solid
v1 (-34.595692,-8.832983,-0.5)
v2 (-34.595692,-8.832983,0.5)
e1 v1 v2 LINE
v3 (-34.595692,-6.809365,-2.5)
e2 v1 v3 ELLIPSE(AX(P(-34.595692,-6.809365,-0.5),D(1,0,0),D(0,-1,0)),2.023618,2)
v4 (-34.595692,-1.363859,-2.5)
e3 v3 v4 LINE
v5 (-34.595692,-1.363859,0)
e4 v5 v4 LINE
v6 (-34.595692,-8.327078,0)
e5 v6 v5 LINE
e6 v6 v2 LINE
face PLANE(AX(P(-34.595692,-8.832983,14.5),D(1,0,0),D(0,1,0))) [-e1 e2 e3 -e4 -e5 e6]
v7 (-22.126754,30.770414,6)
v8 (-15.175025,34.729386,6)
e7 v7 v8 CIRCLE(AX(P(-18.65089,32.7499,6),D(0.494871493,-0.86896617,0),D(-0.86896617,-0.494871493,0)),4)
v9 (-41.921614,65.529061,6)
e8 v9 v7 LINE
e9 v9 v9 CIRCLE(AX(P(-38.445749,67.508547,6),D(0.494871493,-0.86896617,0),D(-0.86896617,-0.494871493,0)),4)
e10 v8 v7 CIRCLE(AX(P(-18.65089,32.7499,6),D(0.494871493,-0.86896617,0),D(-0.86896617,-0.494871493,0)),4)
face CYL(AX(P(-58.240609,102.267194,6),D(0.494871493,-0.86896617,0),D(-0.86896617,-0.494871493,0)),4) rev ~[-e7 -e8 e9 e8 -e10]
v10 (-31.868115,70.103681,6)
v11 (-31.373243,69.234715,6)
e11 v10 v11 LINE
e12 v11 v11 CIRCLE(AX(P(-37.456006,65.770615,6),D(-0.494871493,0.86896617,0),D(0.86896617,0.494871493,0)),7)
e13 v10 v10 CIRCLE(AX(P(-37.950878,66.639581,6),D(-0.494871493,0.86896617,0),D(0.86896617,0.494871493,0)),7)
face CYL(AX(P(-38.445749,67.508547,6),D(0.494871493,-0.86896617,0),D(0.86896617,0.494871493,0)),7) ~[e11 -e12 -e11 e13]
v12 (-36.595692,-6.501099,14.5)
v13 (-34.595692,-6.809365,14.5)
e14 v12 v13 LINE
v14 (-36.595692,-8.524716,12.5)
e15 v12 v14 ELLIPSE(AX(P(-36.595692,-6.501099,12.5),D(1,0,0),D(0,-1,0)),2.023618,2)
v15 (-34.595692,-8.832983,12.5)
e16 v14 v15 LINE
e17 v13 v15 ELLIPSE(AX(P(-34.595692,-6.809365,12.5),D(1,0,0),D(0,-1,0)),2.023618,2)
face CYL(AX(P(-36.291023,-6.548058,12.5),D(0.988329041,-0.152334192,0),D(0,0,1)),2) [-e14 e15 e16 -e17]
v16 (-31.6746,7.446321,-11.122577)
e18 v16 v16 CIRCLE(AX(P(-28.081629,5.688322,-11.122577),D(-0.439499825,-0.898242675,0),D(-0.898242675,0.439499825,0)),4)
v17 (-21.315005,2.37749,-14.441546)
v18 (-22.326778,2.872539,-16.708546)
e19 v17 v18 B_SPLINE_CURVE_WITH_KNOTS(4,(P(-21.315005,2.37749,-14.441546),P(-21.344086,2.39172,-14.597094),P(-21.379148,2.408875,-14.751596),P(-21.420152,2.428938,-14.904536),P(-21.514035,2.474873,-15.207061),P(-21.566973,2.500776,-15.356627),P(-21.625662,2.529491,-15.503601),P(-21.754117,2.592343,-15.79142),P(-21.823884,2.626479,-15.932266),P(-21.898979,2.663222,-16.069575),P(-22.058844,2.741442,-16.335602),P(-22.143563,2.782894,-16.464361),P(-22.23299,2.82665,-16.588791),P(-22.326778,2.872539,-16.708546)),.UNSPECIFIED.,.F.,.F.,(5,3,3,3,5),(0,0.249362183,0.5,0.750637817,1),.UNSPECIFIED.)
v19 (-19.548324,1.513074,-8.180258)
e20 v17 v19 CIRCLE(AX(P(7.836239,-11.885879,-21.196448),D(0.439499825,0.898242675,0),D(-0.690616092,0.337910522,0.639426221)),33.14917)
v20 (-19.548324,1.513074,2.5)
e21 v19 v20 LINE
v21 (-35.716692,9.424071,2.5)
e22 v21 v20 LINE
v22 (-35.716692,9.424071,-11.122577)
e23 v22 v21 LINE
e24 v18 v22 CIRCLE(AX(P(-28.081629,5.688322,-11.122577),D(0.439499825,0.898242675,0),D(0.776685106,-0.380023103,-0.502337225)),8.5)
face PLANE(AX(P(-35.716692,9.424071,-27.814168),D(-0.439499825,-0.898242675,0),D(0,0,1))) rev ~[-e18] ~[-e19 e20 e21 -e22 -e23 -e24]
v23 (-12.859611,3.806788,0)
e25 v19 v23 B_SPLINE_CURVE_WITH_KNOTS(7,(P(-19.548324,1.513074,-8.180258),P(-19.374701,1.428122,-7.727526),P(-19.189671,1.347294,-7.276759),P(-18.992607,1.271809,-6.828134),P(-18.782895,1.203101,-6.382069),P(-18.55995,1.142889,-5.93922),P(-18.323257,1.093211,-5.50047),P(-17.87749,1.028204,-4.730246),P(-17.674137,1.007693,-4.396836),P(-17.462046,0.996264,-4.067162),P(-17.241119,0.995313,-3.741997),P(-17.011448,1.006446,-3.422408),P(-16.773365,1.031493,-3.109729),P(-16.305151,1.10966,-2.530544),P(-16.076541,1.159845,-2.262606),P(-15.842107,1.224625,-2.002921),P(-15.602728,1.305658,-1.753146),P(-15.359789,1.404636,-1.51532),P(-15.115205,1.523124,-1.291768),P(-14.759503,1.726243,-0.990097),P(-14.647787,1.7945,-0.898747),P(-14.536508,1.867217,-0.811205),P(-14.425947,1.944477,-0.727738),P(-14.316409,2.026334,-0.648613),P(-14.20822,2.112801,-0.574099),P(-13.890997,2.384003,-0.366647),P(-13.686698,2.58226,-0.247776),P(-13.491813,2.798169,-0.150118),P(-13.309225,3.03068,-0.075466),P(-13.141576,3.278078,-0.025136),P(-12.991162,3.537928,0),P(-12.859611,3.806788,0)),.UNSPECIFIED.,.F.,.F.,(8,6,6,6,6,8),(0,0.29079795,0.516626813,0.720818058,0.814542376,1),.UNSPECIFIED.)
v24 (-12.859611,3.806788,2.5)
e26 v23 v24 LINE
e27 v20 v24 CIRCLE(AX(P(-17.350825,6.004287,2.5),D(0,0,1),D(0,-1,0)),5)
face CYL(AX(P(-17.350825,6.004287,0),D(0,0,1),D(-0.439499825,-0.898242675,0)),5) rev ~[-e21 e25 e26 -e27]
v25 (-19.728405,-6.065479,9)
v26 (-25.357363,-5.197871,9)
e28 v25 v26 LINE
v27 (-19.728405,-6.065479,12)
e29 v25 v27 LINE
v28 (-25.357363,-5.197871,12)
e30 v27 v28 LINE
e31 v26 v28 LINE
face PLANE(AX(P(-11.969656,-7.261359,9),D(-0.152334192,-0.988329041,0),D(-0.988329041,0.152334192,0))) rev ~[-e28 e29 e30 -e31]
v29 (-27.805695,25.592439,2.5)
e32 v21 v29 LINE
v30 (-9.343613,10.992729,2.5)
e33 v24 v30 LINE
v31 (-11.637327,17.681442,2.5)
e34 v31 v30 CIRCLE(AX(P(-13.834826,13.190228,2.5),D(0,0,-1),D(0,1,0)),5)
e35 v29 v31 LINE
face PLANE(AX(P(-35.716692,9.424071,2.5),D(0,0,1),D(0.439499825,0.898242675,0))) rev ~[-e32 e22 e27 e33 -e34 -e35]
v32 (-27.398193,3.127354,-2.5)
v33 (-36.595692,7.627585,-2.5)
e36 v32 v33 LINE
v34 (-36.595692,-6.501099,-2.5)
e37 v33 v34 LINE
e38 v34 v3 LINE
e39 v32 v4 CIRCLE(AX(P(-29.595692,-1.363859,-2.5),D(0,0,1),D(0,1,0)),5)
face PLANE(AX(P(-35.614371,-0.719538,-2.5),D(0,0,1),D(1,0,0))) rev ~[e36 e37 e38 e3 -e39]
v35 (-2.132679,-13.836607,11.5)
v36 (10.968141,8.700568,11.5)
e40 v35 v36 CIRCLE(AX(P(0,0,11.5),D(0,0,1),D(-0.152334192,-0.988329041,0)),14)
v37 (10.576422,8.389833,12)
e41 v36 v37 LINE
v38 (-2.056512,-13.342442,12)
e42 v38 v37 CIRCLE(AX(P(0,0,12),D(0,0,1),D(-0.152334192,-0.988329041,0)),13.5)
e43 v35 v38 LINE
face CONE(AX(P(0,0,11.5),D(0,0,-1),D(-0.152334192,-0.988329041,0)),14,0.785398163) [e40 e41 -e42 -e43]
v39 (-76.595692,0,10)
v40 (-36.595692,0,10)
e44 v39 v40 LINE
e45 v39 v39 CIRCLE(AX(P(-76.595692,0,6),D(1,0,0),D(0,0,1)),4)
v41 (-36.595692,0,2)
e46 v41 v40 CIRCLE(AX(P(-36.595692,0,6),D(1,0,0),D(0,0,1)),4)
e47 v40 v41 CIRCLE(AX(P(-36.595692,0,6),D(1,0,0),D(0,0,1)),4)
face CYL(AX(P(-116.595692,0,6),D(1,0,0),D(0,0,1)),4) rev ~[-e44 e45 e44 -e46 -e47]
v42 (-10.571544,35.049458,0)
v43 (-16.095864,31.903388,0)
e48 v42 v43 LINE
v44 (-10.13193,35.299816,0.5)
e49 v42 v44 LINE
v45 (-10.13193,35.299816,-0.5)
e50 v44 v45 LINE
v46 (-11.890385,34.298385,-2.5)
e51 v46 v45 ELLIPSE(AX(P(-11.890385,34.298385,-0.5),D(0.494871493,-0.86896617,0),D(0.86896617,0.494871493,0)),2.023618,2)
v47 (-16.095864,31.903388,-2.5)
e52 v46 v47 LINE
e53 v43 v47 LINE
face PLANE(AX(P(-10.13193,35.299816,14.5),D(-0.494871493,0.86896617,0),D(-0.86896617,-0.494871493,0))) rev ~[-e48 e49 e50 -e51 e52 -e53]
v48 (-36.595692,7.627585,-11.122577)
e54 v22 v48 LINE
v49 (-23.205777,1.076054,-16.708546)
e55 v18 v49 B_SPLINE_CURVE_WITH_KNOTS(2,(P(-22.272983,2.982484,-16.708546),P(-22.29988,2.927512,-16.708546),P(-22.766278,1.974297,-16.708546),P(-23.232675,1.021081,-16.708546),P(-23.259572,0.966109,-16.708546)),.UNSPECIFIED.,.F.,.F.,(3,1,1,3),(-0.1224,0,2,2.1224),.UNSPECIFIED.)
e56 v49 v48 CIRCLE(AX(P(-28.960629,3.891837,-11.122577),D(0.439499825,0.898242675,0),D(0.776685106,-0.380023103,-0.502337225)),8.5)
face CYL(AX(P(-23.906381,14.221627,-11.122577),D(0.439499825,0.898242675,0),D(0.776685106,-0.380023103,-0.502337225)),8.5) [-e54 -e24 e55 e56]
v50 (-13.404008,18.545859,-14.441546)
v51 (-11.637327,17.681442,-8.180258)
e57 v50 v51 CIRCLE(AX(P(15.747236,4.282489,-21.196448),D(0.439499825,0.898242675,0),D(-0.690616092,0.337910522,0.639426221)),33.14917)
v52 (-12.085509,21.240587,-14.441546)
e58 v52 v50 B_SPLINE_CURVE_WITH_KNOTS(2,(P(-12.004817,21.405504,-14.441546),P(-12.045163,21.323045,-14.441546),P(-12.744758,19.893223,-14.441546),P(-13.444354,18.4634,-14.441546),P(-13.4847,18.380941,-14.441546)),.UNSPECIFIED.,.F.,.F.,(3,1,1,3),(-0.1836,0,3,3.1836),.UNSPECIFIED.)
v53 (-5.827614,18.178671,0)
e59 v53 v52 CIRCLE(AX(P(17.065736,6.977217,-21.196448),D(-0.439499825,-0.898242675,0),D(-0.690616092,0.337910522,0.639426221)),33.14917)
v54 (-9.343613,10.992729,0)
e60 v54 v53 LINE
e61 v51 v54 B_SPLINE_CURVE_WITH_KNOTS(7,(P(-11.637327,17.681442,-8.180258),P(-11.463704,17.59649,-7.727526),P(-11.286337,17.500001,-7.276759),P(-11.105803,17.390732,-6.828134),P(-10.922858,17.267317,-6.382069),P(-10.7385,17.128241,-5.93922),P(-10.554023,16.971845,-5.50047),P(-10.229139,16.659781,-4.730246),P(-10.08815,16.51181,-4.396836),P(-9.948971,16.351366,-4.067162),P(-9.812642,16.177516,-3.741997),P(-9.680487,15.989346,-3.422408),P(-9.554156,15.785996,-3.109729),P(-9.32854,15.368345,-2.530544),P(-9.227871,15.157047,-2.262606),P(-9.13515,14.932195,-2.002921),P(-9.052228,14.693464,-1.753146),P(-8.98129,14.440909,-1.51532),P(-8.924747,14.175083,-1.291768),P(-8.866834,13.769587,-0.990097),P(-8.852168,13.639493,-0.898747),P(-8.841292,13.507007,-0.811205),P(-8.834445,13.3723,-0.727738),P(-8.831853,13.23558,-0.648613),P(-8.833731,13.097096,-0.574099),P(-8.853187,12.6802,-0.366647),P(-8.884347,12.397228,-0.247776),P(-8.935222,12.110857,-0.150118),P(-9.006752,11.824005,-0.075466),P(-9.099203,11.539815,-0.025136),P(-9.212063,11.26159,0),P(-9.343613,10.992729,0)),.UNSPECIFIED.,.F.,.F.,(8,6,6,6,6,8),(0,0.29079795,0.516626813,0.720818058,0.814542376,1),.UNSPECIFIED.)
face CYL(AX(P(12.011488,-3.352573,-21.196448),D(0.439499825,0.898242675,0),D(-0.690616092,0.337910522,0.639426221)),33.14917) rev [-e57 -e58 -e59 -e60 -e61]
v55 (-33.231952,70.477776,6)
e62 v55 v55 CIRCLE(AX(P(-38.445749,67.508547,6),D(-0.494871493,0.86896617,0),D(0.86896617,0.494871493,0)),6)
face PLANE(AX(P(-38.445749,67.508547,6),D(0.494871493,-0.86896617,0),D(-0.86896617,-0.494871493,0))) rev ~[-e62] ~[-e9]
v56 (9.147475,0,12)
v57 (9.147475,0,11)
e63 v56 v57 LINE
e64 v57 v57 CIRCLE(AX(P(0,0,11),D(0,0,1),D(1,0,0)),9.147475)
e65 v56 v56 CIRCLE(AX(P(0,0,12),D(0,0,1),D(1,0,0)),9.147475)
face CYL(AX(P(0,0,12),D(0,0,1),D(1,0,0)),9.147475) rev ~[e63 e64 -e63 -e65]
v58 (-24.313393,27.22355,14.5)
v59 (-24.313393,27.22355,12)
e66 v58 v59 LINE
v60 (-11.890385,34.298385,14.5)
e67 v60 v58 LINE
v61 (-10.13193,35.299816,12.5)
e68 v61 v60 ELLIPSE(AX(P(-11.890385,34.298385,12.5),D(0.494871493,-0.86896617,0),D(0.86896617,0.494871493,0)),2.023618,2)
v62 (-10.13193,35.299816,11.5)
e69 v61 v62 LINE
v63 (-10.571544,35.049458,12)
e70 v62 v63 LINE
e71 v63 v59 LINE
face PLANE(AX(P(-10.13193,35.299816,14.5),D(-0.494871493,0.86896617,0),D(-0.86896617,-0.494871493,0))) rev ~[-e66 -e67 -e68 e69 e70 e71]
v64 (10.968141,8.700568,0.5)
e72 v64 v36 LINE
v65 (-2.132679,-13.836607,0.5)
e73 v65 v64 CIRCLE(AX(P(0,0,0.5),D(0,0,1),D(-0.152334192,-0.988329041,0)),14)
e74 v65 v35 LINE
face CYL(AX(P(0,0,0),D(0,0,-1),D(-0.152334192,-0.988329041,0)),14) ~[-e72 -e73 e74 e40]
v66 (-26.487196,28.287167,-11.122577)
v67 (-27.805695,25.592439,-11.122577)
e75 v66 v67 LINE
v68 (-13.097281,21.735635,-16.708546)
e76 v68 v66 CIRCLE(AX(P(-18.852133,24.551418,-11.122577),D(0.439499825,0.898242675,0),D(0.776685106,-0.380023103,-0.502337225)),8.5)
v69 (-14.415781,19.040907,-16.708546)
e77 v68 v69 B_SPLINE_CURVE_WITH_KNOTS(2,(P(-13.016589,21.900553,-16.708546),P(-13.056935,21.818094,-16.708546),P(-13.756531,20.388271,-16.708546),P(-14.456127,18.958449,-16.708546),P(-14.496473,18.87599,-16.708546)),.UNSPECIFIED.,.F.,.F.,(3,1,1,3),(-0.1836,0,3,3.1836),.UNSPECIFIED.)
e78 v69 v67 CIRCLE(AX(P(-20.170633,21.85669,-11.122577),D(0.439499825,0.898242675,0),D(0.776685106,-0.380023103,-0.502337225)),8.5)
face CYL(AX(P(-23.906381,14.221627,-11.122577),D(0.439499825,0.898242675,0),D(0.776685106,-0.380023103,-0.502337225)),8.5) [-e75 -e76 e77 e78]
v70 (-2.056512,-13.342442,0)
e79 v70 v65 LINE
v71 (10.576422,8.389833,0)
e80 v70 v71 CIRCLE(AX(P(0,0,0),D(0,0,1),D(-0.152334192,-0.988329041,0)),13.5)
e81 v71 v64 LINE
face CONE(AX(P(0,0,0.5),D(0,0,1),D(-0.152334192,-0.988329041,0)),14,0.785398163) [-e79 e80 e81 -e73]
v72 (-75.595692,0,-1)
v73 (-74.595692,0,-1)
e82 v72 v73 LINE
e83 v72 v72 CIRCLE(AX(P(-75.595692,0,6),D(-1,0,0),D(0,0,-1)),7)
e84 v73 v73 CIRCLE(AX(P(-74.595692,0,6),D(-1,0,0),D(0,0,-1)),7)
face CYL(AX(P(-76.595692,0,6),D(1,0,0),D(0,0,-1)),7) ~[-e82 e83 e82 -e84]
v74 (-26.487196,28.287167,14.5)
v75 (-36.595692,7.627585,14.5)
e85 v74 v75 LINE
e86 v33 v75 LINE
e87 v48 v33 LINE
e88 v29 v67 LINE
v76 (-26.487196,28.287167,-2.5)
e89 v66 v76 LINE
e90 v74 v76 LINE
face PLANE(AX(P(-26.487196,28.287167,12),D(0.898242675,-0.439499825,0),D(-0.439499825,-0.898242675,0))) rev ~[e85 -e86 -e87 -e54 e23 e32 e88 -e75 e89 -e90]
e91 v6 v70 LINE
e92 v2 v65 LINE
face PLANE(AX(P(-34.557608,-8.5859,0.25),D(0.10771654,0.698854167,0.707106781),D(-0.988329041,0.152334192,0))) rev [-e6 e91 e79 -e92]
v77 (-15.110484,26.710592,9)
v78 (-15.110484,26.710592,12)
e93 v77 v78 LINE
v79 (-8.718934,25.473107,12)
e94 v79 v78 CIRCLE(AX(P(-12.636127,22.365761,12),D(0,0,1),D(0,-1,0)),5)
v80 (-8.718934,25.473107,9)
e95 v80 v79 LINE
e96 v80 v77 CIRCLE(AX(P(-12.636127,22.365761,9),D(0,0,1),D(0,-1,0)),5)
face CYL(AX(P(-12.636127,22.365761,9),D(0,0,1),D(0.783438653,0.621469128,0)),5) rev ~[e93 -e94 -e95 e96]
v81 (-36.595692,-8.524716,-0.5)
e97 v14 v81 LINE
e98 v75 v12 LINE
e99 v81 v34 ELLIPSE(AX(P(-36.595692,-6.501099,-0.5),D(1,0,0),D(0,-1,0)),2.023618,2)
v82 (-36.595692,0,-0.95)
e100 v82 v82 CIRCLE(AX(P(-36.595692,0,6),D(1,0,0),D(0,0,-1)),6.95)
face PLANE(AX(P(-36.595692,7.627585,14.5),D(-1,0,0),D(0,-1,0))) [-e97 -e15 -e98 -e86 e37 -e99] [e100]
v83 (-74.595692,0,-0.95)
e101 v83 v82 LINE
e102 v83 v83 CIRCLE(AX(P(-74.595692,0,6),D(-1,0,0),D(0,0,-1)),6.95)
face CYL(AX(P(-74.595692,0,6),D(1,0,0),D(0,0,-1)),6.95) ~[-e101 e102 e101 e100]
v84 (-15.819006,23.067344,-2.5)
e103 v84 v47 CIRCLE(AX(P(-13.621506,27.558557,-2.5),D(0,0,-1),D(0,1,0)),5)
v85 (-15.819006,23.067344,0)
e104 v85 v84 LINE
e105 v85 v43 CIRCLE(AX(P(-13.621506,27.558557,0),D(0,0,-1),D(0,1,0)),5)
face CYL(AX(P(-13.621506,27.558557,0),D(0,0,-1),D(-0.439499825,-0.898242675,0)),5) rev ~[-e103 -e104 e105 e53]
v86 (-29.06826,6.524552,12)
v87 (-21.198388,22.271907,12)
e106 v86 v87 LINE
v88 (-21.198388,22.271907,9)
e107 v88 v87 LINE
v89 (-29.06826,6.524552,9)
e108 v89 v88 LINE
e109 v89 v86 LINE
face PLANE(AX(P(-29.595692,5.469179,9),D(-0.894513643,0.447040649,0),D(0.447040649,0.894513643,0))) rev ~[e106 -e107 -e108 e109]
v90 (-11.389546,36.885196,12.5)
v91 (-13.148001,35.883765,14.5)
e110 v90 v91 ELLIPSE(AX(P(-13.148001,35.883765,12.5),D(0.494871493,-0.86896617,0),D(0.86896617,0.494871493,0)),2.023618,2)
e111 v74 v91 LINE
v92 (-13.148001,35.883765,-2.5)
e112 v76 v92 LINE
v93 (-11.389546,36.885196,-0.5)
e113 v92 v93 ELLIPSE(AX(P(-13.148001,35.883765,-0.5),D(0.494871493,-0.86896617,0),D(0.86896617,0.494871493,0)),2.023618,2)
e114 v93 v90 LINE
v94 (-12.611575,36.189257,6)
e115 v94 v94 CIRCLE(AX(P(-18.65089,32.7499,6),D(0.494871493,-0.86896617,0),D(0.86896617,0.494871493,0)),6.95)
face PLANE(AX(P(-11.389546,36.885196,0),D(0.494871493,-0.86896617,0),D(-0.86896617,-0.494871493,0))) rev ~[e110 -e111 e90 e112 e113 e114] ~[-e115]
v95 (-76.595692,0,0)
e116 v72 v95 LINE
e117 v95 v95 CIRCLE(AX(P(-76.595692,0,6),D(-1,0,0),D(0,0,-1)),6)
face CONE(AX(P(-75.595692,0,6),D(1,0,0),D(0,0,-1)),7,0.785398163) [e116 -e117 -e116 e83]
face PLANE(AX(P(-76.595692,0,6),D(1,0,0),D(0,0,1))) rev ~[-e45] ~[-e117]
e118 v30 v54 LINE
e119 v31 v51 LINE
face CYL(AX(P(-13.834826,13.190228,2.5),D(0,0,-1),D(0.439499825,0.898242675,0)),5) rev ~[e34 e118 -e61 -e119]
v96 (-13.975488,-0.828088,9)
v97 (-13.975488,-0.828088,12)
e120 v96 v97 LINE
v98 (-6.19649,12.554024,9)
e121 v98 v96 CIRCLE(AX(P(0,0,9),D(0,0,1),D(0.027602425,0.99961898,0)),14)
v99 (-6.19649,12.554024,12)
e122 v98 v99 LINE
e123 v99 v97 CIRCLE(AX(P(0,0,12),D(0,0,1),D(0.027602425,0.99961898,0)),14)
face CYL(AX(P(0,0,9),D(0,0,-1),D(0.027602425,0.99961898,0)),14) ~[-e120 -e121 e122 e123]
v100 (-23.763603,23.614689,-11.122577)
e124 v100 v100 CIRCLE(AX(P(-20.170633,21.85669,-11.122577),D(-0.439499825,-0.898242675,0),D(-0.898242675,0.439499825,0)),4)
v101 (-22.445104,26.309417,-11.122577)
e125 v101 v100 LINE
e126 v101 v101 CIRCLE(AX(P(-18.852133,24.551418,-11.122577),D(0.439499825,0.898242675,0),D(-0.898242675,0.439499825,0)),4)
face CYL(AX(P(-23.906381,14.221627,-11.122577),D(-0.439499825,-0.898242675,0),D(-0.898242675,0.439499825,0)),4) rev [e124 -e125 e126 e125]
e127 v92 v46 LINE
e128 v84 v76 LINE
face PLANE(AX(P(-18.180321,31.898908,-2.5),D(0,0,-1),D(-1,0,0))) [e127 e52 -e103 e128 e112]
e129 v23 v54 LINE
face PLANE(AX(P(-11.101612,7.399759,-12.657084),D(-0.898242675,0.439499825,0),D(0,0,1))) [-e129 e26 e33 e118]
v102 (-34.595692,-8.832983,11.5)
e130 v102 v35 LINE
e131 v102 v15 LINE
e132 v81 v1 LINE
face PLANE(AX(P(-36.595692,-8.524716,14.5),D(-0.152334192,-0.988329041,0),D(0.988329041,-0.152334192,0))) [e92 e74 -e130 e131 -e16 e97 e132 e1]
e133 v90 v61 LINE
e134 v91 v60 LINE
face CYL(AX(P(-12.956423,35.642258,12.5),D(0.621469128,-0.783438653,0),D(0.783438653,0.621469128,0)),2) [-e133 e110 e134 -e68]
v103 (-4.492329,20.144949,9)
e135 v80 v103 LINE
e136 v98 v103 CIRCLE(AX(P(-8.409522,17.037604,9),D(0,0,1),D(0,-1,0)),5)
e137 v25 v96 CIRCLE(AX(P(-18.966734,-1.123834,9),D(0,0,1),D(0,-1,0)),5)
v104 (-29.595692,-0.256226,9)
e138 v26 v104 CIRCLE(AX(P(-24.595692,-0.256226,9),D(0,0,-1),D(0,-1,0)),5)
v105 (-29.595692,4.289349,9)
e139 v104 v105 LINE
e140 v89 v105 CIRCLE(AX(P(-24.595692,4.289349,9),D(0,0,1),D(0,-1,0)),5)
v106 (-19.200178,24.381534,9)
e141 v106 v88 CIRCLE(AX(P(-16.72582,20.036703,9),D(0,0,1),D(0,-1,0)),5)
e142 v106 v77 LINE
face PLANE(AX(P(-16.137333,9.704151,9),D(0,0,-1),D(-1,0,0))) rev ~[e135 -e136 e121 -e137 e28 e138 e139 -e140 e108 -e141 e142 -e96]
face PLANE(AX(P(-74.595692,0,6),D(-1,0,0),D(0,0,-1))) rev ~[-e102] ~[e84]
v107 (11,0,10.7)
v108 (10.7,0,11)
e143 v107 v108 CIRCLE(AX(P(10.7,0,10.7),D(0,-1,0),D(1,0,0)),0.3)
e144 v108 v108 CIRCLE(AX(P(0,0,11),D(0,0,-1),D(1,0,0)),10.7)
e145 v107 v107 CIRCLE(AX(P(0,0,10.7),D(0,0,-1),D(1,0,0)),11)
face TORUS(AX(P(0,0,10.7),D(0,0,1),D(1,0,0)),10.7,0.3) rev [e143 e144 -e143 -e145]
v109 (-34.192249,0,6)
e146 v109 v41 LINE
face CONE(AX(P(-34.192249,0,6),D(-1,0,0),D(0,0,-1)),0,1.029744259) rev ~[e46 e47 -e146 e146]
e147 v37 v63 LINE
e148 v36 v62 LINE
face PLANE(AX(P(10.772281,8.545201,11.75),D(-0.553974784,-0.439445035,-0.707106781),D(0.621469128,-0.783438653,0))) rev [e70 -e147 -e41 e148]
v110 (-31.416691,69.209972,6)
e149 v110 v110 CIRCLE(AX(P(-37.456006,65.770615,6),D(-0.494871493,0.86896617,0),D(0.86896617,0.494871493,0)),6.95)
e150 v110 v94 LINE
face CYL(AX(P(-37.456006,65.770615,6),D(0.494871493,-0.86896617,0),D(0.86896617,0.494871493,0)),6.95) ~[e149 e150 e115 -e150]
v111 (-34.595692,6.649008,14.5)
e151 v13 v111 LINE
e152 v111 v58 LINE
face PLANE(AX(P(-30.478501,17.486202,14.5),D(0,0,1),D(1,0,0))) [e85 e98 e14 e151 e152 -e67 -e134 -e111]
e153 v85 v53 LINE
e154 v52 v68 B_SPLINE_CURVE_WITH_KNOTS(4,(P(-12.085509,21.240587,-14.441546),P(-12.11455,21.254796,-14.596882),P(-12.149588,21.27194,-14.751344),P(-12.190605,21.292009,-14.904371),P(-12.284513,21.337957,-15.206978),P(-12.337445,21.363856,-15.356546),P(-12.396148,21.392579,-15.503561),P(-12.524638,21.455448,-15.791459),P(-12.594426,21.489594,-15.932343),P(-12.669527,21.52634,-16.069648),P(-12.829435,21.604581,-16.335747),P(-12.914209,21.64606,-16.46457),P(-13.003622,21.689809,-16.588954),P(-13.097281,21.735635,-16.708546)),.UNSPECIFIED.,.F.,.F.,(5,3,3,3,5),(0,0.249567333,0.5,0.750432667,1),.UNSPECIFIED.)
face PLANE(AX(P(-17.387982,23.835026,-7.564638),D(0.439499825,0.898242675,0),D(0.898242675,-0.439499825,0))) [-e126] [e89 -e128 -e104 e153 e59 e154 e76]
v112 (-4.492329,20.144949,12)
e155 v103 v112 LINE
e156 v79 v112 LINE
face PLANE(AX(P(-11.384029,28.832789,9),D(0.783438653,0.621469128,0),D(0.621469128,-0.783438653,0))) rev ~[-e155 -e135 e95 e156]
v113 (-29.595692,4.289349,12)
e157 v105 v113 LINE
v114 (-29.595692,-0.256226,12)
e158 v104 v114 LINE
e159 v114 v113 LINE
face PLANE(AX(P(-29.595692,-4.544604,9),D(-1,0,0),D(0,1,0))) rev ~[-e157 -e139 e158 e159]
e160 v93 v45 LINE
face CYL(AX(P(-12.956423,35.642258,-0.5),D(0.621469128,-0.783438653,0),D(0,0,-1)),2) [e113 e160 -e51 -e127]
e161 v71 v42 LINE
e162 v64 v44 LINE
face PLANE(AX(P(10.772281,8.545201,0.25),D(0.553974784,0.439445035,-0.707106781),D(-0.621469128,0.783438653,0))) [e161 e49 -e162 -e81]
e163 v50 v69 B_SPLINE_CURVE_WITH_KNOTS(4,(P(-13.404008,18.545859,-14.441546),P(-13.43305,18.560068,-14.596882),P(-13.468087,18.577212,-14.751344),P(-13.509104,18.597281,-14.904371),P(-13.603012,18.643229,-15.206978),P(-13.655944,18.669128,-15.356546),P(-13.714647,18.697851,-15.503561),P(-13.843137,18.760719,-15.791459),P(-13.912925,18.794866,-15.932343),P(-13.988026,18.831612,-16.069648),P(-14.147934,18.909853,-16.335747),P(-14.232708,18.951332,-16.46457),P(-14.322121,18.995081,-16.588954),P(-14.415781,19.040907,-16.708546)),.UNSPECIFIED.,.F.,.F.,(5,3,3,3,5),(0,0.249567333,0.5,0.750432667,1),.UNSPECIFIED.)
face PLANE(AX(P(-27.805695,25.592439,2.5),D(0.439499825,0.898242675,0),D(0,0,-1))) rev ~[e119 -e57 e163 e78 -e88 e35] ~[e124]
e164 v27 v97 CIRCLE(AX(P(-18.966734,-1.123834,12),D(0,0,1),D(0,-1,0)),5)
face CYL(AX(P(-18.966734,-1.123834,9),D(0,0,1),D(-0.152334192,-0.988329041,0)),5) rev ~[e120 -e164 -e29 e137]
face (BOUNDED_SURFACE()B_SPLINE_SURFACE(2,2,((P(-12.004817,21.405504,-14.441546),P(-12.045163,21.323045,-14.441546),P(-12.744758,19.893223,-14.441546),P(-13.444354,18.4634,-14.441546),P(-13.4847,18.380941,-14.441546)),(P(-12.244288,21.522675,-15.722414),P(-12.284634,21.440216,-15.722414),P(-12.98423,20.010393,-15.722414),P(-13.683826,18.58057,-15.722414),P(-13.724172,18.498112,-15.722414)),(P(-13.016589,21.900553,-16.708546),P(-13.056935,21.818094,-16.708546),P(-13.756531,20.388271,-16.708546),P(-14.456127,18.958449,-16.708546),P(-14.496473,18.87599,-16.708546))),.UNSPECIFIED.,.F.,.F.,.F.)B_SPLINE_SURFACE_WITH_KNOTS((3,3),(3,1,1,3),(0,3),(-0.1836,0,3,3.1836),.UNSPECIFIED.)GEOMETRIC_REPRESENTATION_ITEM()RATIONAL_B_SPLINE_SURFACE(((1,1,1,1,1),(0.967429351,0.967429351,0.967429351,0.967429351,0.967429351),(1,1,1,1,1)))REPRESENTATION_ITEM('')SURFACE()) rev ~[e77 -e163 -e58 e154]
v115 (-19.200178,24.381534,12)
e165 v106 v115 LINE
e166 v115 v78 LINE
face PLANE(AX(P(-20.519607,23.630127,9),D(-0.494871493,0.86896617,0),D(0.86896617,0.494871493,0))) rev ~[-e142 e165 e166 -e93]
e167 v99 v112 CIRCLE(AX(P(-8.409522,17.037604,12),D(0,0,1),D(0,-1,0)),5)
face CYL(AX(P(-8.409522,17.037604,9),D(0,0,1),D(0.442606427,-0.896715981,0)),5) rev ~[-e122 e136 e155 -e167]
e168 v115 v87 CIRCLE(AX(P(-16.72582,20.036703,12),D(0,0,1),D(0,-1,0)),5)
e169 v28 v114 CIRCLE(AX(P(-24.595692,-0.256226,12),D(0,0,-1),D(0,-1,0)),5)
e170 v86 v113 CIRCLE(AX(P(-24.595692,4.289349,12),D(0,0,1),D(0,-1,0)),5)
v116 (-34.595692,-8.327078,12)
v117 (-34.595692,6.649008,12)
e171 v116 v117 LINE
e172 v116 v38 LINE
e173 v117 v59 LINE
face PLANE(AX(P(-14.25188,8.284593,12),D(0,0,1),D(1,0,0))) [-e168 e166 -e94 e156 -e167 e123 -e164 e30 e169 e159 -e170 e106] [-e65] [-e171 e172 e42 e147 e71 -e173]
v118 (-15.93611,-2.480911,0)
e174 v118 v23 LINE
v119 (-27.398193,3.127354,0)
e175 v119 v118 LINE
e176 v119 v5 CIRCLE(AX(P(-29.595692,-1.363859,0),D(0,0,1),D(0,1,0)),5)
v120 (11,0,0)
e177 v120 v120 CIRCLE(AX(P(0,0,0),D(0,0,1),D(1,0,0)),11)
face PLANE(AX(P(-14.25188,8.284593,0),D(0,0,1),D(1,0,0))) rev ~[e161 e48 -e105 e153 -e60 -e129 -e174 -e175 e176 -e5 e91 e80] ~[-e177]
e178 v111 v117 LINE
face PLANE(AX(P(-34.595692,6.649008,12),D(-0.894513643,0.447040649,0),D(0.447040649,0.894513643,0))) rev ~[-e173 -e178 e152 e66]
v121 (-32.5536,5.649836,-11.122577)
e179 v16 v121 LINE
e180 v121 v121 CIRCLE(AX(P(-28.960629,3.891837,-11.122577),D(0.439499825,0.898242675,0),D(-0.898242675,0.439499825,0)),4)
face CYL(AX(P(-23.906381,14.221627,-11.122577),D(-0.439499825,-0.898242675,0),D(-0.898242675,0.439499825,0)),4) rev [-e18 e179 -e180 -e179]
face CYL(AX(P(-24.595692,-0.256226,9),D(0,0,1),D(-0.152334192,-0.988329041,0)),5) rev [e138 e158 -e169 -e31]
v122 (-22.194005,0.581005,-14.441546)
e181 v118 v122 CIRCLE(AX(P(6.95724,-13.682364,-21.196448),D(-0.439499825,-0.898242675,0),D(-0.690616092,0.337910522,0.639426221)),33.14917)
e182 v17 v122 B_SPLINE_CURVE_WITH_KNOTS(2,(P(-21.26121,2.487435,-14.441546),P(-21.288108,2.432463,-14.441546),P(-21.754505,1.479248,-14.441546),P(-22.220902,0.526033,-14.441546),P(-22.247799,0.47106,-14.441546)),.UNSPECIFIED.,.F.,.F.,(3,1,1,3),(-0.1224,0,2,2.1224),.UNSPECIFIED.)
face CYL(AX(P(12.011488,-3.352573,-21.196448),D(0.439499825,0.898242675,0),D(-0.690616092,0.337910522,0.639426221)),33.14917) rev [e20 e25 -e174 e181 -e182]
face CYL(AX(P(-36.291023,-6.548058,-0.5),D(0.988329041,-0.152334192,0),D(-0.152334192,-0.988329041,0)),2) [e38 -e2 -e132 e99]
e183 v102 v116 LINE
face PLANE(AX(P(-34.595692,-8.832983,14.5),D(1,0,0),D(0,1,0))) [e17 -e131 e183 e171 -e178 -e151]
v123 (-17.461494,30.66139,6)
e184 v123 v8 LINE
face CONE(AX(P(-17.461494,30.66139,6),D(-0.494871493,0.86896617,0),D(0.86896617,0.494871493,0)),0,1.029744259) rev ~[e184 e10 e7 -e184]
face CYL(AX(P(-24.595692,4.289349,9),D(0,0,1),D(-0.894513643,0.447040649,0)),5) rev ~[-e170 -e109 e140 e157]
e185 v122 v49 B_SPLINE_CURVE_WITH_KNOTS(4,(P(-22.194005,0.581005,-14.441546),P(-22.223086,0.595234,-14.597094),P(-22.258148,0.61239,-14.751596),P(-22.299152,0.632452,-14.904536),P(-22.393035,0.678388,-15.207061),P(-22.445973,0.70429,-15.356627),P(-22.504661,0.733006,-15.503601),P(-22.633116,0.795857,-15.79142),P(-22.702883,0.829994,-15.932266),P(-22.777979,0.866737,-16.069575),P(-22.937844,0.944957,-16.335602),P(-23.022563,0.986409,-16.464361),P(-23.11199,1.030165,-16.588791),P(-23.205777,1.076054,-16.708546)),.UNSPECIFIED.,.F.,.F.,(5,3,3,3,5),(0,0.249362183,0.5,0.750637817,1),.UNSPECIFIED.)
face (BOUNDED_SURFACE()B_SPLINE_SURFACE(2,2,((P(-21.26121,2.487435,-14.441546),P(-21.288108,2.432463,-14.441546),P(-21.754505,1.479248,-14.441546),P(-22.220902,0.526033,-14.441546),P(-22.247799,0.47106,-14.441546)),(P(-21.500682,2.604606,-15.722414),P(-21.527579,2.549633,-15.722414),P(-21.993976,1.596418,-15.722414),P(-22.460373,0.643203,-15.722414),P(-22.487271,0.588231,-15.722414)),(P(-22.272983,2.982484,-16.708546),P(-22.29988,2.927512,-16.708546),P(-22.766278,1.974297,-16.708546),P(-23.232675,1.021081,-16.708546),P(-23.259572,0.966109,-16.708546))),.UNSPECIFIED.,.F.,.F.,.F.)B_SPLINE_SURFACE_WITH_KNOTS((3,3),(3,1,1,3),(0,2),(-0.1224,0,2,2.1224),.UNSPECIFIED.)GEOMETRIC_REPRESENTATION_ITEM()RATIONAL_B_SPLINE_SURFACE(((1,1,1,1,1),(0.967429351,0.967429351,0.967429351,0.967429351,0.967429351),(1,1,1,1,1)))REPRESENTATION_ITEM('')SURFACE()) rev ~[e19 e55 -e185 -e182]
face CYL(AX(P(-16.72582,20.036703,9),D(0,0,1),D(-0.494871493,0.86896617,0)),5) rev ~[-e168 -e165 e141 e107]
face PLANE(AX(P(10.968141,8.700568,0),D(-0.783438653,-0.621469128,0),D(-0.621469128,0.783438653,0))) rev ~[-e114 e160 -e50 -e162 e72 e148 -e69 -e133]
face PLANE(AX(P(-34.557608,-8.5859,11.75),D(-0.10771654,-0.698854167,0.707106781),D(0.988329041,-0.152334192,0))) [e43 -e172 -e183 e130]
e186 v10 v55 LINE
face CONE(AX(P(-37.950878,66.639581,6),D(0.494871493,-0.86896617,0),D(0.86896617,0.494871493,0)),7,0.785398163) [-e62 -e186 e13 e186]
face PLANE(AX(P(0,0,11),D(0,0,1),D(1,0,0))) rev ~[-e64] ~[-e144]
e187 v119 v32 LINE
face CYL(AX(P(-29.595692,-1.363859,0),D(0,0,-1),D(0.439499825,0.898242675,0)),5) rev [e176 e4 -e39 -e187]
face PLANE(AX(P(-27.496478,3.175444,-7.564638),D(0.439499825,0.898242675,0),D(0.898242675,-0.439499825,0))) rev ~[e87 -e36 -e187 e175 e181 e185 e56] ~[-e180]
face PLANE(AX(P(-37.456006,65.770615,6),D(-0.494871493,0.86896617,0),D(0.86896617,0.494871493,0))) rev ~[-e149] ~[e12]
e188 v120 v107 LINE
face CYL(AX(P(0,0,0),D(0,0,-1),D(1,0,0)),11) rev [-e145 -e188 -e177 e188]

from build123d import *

# Parameters (mm, degrees)
SZKIC1_R                         = 11
DODANIE_WYCI_GNI_CIE1_DEPTH      = 12
SZKIC4_R                         = 11.147474951019817
SZKIC4_R_2                       = 9.147474951019817
DODANIE_WYCI_GNI_CIE2_DEPTH      = 1
SZKIC13_R                        = 4.000000000000003
DODANIE_WYCI_GNI_CIE3_DEPTH      = 11.5
WYTNIJ_WYCI_GNI_CIE1_DEPTH       = 60.02626138756585
WYTNIJ_WYCI_GNI_CIE2_DEPTH       = 58.227067591020045
WYTNIJ_WYCI_GNI_CIE3_DEPTH       = 23
DODANIE_WYCI_GNI_CIE4_DEPTH      = 2.5
DODANIE_WYCI_GNI_CIE4_DEPTH_BACK = 14.5
DODANIE_WYCI_GNI_CIE5_DEPTH      = 2.5
OTWORY_USTALAJ_CE_8_0MM1_D       = 8
OTWORY_USTALAJ_CE_8_0MM1_DEPTH   = 40
OTWORY_USTALAJ_CE_8_0MM1_TIP     = 2.403442476110241
OTWORY_USTALAJ_CE_8_0MM2_D       = 8
OTWORY_USTALAJ_CE_8_0MM2_DEPTH   = 40
OTWORY_USTALAJ_CE_8_0MM2_TIP     = 2.403442476110241
SFAZOWANIE1_SIZE                 = 1
ZAOKR_GLENIE2_R                  = 2
ZAOKR_GLENIE3_R                  = 5
SFAZOWANIE2_SIZE                 = 0.5
ZAOKR_GLENIE4_R                  = 0.3
ZAOKR_GLENIE5_R                  = 5
WYTNIJ_WYCI_GNI_CIE4_START       = -3
WYTNIJ_WYCI_GNI_CIE4_DEPTH       = 3
ZAOKR_GLENIE11_R                 = 5


with BuildPart() as part:
    # Szkic1 → Dodanie-wyciągnięcie1 (new body)
    with BuildSketch(Plane.XY):
        with BuildLine():
            Line((-40, -8.000000000000005), (-2.1326786841408407, -13.836606579295779))
            ThreePointArc((-2.1326786841408407, -13.836606579295779), (12.103611293588447, -7.035807960264275), (10.968141143659846, 8.700567789101818))
            Line((10.968141143659846, 8.700567789101818), (-12.843130370941623, 38.71761875780841))
            Line((-12.843130370941623, 38.71761875780841), (-26.746589095410883, 30.799674864537906))
            Line((-26.746589095410883, 30.799674864537906), (-40, 7.999999999999995))
            Line((-40, 7.999999999999995), (-40, -8.000000000000005))
        make_face()
        Circle(SZKIC1_R, mode=Mode.SUBTRACT)
    extrude(amount=DODANIE_WYCI_GNI_CIE1_DEPTH)

    # Szkic4 → Dodanie-wyciągnięcie2 (add)
    with BuildSketch(Plane.XY.offset(12)):
        Circle(SZKIC4_R)
        Circle(SZKIC4_R_2, mode=Mode.SUBTRACT)
    extrude(amount=-DODANIE_WYCI_GNI_CIE2_DEPTH)

    # Szkic13 → Dodanie-wyciągnięcie3 (add, symmetric)
    with BuildSketch(Plane(origin=(0.996619630552348, 2.0368751739166404, 3.1e-16), x_dir=(0.8982426752029381, -0.43949982530630105, 0), z_dir=(0.4394998253063011, 0.8982426752029382, 0))):
        with BuildLine():
            Line((-36.22413445269548, 11.122577076374291), (-36.22413445269548, 8.67e-15))
            Line((-36.22413445269548, 8.67e-15), (-33.72413445269548, 7.61e-15))
            Line((-33.72413445269548, 7.61e-15), (-13.224134452695484, 6.94e-15))
            ThreePointArc((-13.224134452695484, 6.94e-15), (-17.80107386619313, 7.230855656561982), (-20.374424199879662, 15.392443491106029))
            ThreePointArc((-20.374424199879662, 15.392443491106029), (-29.935182038237862, 19.329968170654332), (-36.22413445269548, 11.122577076374291))
        make_face()
        with Locations(Location((-27.724134452695484, 11.122577076374293, 0), (0, 0, 180))):
            Circle(SZKIC13_R, mode=Mode.SUBTRACT)
    extrude(amount=DODANIE_WYCI_GNI_CIE3_DEPTH, both=True)

    # Szkic15 → Wytnij-wyciągnięcie1 (cut, through all)
    with BuildSketch(Plane(origin=(0, 0, 0), x_dir=(-1, 0, 0), z_dir=(0, 0, -1))):
        Polygon((12.843130370941623, 38.71761875780841), (26.746589095410883, 30.799674864537906), (40, 7.999999999999995), (40, -8.000000000000005), (38.494484112785884, -8.232049789295985), (38.494484112785884, 7.999999999999995), (26.00155220007409, 29.491432489730776), (12.09809347560483, 37.40937638300129), (11.896450058886177, 37.52421120875695), align=None)
    extrude(amount=-WYTNIJ_WYCI_GNI_CIE1_DEPTH, mode=Mode.SUBTRACT)

    # Szkic16 → Wytnij-wyciągnięcie2 (cut, through all)
    with BuildSketch(Plane(origin=(0, 0, 0), x_dir=(-1, 0, 0), z_dir=(0, 0, -1))):
        Polygon((26.48719581612529, 28.287166702582056), (36.59569179817021, 7.627585172914479), (36.59569179817021, -8.524716482663612), (38.494484112785884, -8.232049789295985), (38.494484112785884, 7.999999999999995), (26.00155220007409, 29.491432489730776), (11.896450058886177, 37.52421120875695), (11.389545957202317, 36.88519593201458), align=None)
    extrude(amount=-WYTNIJ_WYCI_GNI_CIE2_DEPTH, mode=Mode.SUBTRACT)

    # Szkic17 → Wytnij-wyciągnięcie3 (cut)
    with BuildSketch(Plane(origin=(-32.53806343770011, 15.920500763831628, 0), x_dir=(0, 0, 1), z_dir=(-0.898242675202938, 0.4394998253063012, 0))):
        Polygon((-27.81416800588854, 10.767622358797922), (-27.814168005888536, -7.232377641202076), (1.18e-15, -7.232377641202076), (2.5, -7.232377641202076), (2.5000000000000004, 10.767622358797922), (4.3e-16, 10.767622358797922), align=None)
    extrude(amount=-WYTNIJ_WYCI_GNI_CIE3_DEPTH, mode=Mode.SUBTRACT)

    # Szkic18 → Obrót1 (revolve)
    with BuildSketch(Plane(origin=(0, 0, 6), x_dir=(-1, 0, 0), z_dir=(0, 0, -1)), mode=Mode.PRIVATE) as obr_t1_sk:
        Polygon((76.59569179817022, 0), (76.59569179817021, -7), (74.59569179817021, -7), (74.59569179817021, -6.95), (36.59569179817021, -6.949999999999999), (36.59569179817021, 0), align=None)
    revolve(obr_t1_sk.sketch.rotate(Axis((0, 0, 6), (-1, 0, 0)), 270), axis=Axis((0, 0, 6), (-1, 0, 0)))

    # Szkic19 → Obrót2 (revolve)
    with BuildSketch(Plane(origin=(0, 0, 6), x_dir=(-1, 0, 0), z_dir=(0, 0, -1))):
        Polygon((38.44574931620652, 67.5085471625366), (32.36298612425123, 70.97264761584243), (31.373243137592404, 69.23471527528378), (31.416691446106377, 69.20997170061732), (12.611574699588953, 36.18925723000281), (18.65088517799791, 32.74989261638888), align=None)
    revolve(axis=Axis((0, 0, 6), (-0.4948714933294059, 0.868966170279329, 0)))

    # Szkic20 → Dodanie-wyciągnięcie4 (add, two sides: drawn at the far end of the back side and taken through both)
    with BuildSketch(Plane(origin=(0, 0, 0), x_dir=(-1, 0, 0), z_dir=(0, 0, -1)).offset(-DODANIE_WYCI_GNI_CIE4_DEPTH_BACK)):
        Polygon((36.59569179817021, -8.524716482663612), (34.59569179817021, -8.832982627533559), (34.59569179817021, 6.649008141474715), (36.59569179817021, 7.627585172914479), align=None)
        Polygon((26.48719581612529, 28.287166702582056), (11.389545957202317, 36.88519593201458), (10.13193011920909, 35.29981571891061), (24.31339302460761, 27.223549961252633), align=None)
    extrude(amount=DODANIE_WYCI_GNI_CIE4_DEPTH + DODANIE_WYCI_GNI_CIE4_DEPTH_BACK)

    # Szkic21 → Dodanie-wyciągnięcie5 (add)
    with BuildSketch(Plane.XY.offset(12)):
        Polygon((-24.313393024607603, 27.22354996125263), (-26.48719581612529, 28.287166702582056), (-36.59569179817021, 7.627585172914479), (-34.59569179817021, 6.649008141474715), align=None)
    extrude(amount=DODANIE_WYCI_GNI_CIE5_DEPTH)

    # Otwory ustalające Ø8.0mm1
    with Locations(Plane(origin=(-76.595691798, 0, 6), x_dir=(0, 0, -1), z_dir=(-1, 0, 0))):
        with Locations((0, 0)):
            Hole(OTWORY_USTALAJ_CE_8_0MM1_D / 2, depth=OTWORY_USTALAJ_CE_8_0MM1_DEPTH)
            with Locations((0, 0, -(OTWORY_USTALAJ_CE_8_0MM1_DEPTH + OTWORY_USTALAJ_CE_8_0MM1_TIP / 2))):  # 118° drill point
                Cone(0, OTWORY_USTALAJ_CE_8_0MM1_D / 2, OTWORY_USTALAJ_CE_8_0MM1_TIP, mode=Mode.SUBTRACT)

    # Otwory ustalające Ø8.0mm2
    with Locations(Plane(origin=(-38.445749316, 67.508547163, 6), x_dir=(0.868966170279, 0.494871493329, 0), z_dir=(-0.494871493329, 0.868966170279, 0))):
        with Locations((0, 0)):
            Hole(OTWORY_USTALAJ_CE_8_0MM2_D / 2, depth=OTWORY_USTALAJ_CE_8_0MM2_DEPTH)
            with Locations((0, 0, -(OTWORY_USTALAJ_CE_8_0MM2_DEPTH + OTWORY_USTALAJ_CE_8_0MM2_TIP / 2))):  # 118° drill point
                Cone(0, OTWORY_USTALAJ_CE_8_0MM2_D / 2, OTWORY_USTALAJ_CE_8_0MM2_TIP, mode=Mode.SUBTRACT)

    # Sfazowanie1
    sfazowanie1_edges = [part.edges().sort_by_distance(p)[0] for p in [
        (-76.59569179817021, -2.41e-15, 13),
        (-44.52851250816182, 64.04444670923077, 5.999999999999999),
    ]]
    chamfer(sfazowanie1_edges, length=SFAZOWANIE1_SIZE)

    # Zaokrąglenie2
    zaokr_glenie2_edges = [part.edges().sort_by_distance(p)[0] for p in [
        (-35.59569179817021, -8.678849555098585, 14.5),
        (-35.59569179817021, -8.678849555098585, -2.5),
        (-10.760738038205703, 36.092505825462595, 14.5),
        (-10.760738038205703, 36.092505825462595, -2.5),
    ]]
    fillet(zaokr_glenie2_edges, radius=ZAOKR_GLENIE2_R)

    # Zaokrąglenie3
    zaokr_glenie3_edges = [part.edges().sort_by_distance(p)[0] for p in [
        (-7.146113762376627, 15.483942694928315, 1.249999999999997),
        (-15.057110617890048, -0.6844254587245677, 1.2499999999999964),
        (-34.59569179817021, 6.649008141474715, -1.250000000000004),
        (-24.31339302460761, 27.223549961252633, -1.2500000000000024),
    ]]
    fillet(zaokr_glenie3_edges, radius=ZAOKR_GLENIE3_R)

    # Sfazowanie2
    sfazowanie2_edges = [part.edges().sort_by_distance(p)[0] for p in [
        (-18.364185241155525, -11.334794603414672, 12),
        (-18.364185241155525, -11.334794603414672, 0),
        (12.103611293588445, -7.0358079602642745, 12),
        (0.41810551222537384, 22.000191754006217, 0),
        (12.103611293588445, -7.0358079602642745, 0),
        (0.41810551222537384, 22.000191754006217, 12),
    ]]
    chamfer(sfazowanie2_edges, length=SFAZOWANIE2_SIZE)

    # Zaokrąglenie4
    zaokr_glenie4_edges = [part.edges().sort_by_distance(p)[0] for p in [
        (-11, -6.23e-15, 11),
    ]]
    fillet(zaokr_glenie4_edges, radius=ZAOKR_GLENIE4_R)

    # Zaokrąglenie5
    zaokr_glenie5_edges = [part.edges().sort_by_distance(p)[0] for p in [
        (-12.909559415404027, 19.973857802509606, -15.392443491106027),
        (-21.9193058341832, 1.5598829608493752, -15.39244349110603),
    ]]
    fillet(zaokr_glenie5_edges, radius=ZAOKR_GLENIE5_R)

    # Szkic29 → Wytnij-wyciągnięcie4 (cut)
    with BuildSketch(Plane.XY.offset(12).offset(WYTNIJ_WYCI_GNI_CIE4_START)):
        with BuildLine():
            Line((-29.59569179817021, -4.544604097780221), (-29.595691798170208, 5.469178555653164))
            Line((-29.595691798170208, 5.469178555653164), (-20.51960657313938, 23.630126718567237))
            Line((-20.51960657313938, 23.630126718567237), (-11.384028520269917, 28.832788580533173))
            Line((-11.384028520269917, 28.832788580533173), (0.386433954908492, 13.99466572657217))
            ThreePointArc((0.386433954908492, 13.99466572657217), (-12.103611293588447, 7.035807960264281), (-11.969655932420048, -7.261359160617354))
            Line((-11.969655932420048, -7.261359160617354), (-29.59569179817021, -4.544604097780221))
        make_face()
    extrude(amount=WYTNIJ_WYCI_GNI_CIE4_DEPTH, mode=Mode.SUBTRACT)

    # Zaokrąglenie11
    zaokr_glenie11_edges = [part.edges().sort_by_distance(p)[0] for p in [
        (0.386433954908492, 13.99466572657217, 10.5),
        (-11.96965593242005, -7.261359160617353, 10.5),
        (-29.59569179817021, -4.544604097780221, 10.5),
        (-29.595691798170208, 5.469178555653164, 10.5),
        (-20.51960657313938, 23.630126718567237, 10.5),
        (-11.384028520269917, 28.832788580533173, 10.5),
    ]]
    fillet(zaokr_glenie11_edges, radius=ZAOKR_GLENIE11_R)


solid = part.part
